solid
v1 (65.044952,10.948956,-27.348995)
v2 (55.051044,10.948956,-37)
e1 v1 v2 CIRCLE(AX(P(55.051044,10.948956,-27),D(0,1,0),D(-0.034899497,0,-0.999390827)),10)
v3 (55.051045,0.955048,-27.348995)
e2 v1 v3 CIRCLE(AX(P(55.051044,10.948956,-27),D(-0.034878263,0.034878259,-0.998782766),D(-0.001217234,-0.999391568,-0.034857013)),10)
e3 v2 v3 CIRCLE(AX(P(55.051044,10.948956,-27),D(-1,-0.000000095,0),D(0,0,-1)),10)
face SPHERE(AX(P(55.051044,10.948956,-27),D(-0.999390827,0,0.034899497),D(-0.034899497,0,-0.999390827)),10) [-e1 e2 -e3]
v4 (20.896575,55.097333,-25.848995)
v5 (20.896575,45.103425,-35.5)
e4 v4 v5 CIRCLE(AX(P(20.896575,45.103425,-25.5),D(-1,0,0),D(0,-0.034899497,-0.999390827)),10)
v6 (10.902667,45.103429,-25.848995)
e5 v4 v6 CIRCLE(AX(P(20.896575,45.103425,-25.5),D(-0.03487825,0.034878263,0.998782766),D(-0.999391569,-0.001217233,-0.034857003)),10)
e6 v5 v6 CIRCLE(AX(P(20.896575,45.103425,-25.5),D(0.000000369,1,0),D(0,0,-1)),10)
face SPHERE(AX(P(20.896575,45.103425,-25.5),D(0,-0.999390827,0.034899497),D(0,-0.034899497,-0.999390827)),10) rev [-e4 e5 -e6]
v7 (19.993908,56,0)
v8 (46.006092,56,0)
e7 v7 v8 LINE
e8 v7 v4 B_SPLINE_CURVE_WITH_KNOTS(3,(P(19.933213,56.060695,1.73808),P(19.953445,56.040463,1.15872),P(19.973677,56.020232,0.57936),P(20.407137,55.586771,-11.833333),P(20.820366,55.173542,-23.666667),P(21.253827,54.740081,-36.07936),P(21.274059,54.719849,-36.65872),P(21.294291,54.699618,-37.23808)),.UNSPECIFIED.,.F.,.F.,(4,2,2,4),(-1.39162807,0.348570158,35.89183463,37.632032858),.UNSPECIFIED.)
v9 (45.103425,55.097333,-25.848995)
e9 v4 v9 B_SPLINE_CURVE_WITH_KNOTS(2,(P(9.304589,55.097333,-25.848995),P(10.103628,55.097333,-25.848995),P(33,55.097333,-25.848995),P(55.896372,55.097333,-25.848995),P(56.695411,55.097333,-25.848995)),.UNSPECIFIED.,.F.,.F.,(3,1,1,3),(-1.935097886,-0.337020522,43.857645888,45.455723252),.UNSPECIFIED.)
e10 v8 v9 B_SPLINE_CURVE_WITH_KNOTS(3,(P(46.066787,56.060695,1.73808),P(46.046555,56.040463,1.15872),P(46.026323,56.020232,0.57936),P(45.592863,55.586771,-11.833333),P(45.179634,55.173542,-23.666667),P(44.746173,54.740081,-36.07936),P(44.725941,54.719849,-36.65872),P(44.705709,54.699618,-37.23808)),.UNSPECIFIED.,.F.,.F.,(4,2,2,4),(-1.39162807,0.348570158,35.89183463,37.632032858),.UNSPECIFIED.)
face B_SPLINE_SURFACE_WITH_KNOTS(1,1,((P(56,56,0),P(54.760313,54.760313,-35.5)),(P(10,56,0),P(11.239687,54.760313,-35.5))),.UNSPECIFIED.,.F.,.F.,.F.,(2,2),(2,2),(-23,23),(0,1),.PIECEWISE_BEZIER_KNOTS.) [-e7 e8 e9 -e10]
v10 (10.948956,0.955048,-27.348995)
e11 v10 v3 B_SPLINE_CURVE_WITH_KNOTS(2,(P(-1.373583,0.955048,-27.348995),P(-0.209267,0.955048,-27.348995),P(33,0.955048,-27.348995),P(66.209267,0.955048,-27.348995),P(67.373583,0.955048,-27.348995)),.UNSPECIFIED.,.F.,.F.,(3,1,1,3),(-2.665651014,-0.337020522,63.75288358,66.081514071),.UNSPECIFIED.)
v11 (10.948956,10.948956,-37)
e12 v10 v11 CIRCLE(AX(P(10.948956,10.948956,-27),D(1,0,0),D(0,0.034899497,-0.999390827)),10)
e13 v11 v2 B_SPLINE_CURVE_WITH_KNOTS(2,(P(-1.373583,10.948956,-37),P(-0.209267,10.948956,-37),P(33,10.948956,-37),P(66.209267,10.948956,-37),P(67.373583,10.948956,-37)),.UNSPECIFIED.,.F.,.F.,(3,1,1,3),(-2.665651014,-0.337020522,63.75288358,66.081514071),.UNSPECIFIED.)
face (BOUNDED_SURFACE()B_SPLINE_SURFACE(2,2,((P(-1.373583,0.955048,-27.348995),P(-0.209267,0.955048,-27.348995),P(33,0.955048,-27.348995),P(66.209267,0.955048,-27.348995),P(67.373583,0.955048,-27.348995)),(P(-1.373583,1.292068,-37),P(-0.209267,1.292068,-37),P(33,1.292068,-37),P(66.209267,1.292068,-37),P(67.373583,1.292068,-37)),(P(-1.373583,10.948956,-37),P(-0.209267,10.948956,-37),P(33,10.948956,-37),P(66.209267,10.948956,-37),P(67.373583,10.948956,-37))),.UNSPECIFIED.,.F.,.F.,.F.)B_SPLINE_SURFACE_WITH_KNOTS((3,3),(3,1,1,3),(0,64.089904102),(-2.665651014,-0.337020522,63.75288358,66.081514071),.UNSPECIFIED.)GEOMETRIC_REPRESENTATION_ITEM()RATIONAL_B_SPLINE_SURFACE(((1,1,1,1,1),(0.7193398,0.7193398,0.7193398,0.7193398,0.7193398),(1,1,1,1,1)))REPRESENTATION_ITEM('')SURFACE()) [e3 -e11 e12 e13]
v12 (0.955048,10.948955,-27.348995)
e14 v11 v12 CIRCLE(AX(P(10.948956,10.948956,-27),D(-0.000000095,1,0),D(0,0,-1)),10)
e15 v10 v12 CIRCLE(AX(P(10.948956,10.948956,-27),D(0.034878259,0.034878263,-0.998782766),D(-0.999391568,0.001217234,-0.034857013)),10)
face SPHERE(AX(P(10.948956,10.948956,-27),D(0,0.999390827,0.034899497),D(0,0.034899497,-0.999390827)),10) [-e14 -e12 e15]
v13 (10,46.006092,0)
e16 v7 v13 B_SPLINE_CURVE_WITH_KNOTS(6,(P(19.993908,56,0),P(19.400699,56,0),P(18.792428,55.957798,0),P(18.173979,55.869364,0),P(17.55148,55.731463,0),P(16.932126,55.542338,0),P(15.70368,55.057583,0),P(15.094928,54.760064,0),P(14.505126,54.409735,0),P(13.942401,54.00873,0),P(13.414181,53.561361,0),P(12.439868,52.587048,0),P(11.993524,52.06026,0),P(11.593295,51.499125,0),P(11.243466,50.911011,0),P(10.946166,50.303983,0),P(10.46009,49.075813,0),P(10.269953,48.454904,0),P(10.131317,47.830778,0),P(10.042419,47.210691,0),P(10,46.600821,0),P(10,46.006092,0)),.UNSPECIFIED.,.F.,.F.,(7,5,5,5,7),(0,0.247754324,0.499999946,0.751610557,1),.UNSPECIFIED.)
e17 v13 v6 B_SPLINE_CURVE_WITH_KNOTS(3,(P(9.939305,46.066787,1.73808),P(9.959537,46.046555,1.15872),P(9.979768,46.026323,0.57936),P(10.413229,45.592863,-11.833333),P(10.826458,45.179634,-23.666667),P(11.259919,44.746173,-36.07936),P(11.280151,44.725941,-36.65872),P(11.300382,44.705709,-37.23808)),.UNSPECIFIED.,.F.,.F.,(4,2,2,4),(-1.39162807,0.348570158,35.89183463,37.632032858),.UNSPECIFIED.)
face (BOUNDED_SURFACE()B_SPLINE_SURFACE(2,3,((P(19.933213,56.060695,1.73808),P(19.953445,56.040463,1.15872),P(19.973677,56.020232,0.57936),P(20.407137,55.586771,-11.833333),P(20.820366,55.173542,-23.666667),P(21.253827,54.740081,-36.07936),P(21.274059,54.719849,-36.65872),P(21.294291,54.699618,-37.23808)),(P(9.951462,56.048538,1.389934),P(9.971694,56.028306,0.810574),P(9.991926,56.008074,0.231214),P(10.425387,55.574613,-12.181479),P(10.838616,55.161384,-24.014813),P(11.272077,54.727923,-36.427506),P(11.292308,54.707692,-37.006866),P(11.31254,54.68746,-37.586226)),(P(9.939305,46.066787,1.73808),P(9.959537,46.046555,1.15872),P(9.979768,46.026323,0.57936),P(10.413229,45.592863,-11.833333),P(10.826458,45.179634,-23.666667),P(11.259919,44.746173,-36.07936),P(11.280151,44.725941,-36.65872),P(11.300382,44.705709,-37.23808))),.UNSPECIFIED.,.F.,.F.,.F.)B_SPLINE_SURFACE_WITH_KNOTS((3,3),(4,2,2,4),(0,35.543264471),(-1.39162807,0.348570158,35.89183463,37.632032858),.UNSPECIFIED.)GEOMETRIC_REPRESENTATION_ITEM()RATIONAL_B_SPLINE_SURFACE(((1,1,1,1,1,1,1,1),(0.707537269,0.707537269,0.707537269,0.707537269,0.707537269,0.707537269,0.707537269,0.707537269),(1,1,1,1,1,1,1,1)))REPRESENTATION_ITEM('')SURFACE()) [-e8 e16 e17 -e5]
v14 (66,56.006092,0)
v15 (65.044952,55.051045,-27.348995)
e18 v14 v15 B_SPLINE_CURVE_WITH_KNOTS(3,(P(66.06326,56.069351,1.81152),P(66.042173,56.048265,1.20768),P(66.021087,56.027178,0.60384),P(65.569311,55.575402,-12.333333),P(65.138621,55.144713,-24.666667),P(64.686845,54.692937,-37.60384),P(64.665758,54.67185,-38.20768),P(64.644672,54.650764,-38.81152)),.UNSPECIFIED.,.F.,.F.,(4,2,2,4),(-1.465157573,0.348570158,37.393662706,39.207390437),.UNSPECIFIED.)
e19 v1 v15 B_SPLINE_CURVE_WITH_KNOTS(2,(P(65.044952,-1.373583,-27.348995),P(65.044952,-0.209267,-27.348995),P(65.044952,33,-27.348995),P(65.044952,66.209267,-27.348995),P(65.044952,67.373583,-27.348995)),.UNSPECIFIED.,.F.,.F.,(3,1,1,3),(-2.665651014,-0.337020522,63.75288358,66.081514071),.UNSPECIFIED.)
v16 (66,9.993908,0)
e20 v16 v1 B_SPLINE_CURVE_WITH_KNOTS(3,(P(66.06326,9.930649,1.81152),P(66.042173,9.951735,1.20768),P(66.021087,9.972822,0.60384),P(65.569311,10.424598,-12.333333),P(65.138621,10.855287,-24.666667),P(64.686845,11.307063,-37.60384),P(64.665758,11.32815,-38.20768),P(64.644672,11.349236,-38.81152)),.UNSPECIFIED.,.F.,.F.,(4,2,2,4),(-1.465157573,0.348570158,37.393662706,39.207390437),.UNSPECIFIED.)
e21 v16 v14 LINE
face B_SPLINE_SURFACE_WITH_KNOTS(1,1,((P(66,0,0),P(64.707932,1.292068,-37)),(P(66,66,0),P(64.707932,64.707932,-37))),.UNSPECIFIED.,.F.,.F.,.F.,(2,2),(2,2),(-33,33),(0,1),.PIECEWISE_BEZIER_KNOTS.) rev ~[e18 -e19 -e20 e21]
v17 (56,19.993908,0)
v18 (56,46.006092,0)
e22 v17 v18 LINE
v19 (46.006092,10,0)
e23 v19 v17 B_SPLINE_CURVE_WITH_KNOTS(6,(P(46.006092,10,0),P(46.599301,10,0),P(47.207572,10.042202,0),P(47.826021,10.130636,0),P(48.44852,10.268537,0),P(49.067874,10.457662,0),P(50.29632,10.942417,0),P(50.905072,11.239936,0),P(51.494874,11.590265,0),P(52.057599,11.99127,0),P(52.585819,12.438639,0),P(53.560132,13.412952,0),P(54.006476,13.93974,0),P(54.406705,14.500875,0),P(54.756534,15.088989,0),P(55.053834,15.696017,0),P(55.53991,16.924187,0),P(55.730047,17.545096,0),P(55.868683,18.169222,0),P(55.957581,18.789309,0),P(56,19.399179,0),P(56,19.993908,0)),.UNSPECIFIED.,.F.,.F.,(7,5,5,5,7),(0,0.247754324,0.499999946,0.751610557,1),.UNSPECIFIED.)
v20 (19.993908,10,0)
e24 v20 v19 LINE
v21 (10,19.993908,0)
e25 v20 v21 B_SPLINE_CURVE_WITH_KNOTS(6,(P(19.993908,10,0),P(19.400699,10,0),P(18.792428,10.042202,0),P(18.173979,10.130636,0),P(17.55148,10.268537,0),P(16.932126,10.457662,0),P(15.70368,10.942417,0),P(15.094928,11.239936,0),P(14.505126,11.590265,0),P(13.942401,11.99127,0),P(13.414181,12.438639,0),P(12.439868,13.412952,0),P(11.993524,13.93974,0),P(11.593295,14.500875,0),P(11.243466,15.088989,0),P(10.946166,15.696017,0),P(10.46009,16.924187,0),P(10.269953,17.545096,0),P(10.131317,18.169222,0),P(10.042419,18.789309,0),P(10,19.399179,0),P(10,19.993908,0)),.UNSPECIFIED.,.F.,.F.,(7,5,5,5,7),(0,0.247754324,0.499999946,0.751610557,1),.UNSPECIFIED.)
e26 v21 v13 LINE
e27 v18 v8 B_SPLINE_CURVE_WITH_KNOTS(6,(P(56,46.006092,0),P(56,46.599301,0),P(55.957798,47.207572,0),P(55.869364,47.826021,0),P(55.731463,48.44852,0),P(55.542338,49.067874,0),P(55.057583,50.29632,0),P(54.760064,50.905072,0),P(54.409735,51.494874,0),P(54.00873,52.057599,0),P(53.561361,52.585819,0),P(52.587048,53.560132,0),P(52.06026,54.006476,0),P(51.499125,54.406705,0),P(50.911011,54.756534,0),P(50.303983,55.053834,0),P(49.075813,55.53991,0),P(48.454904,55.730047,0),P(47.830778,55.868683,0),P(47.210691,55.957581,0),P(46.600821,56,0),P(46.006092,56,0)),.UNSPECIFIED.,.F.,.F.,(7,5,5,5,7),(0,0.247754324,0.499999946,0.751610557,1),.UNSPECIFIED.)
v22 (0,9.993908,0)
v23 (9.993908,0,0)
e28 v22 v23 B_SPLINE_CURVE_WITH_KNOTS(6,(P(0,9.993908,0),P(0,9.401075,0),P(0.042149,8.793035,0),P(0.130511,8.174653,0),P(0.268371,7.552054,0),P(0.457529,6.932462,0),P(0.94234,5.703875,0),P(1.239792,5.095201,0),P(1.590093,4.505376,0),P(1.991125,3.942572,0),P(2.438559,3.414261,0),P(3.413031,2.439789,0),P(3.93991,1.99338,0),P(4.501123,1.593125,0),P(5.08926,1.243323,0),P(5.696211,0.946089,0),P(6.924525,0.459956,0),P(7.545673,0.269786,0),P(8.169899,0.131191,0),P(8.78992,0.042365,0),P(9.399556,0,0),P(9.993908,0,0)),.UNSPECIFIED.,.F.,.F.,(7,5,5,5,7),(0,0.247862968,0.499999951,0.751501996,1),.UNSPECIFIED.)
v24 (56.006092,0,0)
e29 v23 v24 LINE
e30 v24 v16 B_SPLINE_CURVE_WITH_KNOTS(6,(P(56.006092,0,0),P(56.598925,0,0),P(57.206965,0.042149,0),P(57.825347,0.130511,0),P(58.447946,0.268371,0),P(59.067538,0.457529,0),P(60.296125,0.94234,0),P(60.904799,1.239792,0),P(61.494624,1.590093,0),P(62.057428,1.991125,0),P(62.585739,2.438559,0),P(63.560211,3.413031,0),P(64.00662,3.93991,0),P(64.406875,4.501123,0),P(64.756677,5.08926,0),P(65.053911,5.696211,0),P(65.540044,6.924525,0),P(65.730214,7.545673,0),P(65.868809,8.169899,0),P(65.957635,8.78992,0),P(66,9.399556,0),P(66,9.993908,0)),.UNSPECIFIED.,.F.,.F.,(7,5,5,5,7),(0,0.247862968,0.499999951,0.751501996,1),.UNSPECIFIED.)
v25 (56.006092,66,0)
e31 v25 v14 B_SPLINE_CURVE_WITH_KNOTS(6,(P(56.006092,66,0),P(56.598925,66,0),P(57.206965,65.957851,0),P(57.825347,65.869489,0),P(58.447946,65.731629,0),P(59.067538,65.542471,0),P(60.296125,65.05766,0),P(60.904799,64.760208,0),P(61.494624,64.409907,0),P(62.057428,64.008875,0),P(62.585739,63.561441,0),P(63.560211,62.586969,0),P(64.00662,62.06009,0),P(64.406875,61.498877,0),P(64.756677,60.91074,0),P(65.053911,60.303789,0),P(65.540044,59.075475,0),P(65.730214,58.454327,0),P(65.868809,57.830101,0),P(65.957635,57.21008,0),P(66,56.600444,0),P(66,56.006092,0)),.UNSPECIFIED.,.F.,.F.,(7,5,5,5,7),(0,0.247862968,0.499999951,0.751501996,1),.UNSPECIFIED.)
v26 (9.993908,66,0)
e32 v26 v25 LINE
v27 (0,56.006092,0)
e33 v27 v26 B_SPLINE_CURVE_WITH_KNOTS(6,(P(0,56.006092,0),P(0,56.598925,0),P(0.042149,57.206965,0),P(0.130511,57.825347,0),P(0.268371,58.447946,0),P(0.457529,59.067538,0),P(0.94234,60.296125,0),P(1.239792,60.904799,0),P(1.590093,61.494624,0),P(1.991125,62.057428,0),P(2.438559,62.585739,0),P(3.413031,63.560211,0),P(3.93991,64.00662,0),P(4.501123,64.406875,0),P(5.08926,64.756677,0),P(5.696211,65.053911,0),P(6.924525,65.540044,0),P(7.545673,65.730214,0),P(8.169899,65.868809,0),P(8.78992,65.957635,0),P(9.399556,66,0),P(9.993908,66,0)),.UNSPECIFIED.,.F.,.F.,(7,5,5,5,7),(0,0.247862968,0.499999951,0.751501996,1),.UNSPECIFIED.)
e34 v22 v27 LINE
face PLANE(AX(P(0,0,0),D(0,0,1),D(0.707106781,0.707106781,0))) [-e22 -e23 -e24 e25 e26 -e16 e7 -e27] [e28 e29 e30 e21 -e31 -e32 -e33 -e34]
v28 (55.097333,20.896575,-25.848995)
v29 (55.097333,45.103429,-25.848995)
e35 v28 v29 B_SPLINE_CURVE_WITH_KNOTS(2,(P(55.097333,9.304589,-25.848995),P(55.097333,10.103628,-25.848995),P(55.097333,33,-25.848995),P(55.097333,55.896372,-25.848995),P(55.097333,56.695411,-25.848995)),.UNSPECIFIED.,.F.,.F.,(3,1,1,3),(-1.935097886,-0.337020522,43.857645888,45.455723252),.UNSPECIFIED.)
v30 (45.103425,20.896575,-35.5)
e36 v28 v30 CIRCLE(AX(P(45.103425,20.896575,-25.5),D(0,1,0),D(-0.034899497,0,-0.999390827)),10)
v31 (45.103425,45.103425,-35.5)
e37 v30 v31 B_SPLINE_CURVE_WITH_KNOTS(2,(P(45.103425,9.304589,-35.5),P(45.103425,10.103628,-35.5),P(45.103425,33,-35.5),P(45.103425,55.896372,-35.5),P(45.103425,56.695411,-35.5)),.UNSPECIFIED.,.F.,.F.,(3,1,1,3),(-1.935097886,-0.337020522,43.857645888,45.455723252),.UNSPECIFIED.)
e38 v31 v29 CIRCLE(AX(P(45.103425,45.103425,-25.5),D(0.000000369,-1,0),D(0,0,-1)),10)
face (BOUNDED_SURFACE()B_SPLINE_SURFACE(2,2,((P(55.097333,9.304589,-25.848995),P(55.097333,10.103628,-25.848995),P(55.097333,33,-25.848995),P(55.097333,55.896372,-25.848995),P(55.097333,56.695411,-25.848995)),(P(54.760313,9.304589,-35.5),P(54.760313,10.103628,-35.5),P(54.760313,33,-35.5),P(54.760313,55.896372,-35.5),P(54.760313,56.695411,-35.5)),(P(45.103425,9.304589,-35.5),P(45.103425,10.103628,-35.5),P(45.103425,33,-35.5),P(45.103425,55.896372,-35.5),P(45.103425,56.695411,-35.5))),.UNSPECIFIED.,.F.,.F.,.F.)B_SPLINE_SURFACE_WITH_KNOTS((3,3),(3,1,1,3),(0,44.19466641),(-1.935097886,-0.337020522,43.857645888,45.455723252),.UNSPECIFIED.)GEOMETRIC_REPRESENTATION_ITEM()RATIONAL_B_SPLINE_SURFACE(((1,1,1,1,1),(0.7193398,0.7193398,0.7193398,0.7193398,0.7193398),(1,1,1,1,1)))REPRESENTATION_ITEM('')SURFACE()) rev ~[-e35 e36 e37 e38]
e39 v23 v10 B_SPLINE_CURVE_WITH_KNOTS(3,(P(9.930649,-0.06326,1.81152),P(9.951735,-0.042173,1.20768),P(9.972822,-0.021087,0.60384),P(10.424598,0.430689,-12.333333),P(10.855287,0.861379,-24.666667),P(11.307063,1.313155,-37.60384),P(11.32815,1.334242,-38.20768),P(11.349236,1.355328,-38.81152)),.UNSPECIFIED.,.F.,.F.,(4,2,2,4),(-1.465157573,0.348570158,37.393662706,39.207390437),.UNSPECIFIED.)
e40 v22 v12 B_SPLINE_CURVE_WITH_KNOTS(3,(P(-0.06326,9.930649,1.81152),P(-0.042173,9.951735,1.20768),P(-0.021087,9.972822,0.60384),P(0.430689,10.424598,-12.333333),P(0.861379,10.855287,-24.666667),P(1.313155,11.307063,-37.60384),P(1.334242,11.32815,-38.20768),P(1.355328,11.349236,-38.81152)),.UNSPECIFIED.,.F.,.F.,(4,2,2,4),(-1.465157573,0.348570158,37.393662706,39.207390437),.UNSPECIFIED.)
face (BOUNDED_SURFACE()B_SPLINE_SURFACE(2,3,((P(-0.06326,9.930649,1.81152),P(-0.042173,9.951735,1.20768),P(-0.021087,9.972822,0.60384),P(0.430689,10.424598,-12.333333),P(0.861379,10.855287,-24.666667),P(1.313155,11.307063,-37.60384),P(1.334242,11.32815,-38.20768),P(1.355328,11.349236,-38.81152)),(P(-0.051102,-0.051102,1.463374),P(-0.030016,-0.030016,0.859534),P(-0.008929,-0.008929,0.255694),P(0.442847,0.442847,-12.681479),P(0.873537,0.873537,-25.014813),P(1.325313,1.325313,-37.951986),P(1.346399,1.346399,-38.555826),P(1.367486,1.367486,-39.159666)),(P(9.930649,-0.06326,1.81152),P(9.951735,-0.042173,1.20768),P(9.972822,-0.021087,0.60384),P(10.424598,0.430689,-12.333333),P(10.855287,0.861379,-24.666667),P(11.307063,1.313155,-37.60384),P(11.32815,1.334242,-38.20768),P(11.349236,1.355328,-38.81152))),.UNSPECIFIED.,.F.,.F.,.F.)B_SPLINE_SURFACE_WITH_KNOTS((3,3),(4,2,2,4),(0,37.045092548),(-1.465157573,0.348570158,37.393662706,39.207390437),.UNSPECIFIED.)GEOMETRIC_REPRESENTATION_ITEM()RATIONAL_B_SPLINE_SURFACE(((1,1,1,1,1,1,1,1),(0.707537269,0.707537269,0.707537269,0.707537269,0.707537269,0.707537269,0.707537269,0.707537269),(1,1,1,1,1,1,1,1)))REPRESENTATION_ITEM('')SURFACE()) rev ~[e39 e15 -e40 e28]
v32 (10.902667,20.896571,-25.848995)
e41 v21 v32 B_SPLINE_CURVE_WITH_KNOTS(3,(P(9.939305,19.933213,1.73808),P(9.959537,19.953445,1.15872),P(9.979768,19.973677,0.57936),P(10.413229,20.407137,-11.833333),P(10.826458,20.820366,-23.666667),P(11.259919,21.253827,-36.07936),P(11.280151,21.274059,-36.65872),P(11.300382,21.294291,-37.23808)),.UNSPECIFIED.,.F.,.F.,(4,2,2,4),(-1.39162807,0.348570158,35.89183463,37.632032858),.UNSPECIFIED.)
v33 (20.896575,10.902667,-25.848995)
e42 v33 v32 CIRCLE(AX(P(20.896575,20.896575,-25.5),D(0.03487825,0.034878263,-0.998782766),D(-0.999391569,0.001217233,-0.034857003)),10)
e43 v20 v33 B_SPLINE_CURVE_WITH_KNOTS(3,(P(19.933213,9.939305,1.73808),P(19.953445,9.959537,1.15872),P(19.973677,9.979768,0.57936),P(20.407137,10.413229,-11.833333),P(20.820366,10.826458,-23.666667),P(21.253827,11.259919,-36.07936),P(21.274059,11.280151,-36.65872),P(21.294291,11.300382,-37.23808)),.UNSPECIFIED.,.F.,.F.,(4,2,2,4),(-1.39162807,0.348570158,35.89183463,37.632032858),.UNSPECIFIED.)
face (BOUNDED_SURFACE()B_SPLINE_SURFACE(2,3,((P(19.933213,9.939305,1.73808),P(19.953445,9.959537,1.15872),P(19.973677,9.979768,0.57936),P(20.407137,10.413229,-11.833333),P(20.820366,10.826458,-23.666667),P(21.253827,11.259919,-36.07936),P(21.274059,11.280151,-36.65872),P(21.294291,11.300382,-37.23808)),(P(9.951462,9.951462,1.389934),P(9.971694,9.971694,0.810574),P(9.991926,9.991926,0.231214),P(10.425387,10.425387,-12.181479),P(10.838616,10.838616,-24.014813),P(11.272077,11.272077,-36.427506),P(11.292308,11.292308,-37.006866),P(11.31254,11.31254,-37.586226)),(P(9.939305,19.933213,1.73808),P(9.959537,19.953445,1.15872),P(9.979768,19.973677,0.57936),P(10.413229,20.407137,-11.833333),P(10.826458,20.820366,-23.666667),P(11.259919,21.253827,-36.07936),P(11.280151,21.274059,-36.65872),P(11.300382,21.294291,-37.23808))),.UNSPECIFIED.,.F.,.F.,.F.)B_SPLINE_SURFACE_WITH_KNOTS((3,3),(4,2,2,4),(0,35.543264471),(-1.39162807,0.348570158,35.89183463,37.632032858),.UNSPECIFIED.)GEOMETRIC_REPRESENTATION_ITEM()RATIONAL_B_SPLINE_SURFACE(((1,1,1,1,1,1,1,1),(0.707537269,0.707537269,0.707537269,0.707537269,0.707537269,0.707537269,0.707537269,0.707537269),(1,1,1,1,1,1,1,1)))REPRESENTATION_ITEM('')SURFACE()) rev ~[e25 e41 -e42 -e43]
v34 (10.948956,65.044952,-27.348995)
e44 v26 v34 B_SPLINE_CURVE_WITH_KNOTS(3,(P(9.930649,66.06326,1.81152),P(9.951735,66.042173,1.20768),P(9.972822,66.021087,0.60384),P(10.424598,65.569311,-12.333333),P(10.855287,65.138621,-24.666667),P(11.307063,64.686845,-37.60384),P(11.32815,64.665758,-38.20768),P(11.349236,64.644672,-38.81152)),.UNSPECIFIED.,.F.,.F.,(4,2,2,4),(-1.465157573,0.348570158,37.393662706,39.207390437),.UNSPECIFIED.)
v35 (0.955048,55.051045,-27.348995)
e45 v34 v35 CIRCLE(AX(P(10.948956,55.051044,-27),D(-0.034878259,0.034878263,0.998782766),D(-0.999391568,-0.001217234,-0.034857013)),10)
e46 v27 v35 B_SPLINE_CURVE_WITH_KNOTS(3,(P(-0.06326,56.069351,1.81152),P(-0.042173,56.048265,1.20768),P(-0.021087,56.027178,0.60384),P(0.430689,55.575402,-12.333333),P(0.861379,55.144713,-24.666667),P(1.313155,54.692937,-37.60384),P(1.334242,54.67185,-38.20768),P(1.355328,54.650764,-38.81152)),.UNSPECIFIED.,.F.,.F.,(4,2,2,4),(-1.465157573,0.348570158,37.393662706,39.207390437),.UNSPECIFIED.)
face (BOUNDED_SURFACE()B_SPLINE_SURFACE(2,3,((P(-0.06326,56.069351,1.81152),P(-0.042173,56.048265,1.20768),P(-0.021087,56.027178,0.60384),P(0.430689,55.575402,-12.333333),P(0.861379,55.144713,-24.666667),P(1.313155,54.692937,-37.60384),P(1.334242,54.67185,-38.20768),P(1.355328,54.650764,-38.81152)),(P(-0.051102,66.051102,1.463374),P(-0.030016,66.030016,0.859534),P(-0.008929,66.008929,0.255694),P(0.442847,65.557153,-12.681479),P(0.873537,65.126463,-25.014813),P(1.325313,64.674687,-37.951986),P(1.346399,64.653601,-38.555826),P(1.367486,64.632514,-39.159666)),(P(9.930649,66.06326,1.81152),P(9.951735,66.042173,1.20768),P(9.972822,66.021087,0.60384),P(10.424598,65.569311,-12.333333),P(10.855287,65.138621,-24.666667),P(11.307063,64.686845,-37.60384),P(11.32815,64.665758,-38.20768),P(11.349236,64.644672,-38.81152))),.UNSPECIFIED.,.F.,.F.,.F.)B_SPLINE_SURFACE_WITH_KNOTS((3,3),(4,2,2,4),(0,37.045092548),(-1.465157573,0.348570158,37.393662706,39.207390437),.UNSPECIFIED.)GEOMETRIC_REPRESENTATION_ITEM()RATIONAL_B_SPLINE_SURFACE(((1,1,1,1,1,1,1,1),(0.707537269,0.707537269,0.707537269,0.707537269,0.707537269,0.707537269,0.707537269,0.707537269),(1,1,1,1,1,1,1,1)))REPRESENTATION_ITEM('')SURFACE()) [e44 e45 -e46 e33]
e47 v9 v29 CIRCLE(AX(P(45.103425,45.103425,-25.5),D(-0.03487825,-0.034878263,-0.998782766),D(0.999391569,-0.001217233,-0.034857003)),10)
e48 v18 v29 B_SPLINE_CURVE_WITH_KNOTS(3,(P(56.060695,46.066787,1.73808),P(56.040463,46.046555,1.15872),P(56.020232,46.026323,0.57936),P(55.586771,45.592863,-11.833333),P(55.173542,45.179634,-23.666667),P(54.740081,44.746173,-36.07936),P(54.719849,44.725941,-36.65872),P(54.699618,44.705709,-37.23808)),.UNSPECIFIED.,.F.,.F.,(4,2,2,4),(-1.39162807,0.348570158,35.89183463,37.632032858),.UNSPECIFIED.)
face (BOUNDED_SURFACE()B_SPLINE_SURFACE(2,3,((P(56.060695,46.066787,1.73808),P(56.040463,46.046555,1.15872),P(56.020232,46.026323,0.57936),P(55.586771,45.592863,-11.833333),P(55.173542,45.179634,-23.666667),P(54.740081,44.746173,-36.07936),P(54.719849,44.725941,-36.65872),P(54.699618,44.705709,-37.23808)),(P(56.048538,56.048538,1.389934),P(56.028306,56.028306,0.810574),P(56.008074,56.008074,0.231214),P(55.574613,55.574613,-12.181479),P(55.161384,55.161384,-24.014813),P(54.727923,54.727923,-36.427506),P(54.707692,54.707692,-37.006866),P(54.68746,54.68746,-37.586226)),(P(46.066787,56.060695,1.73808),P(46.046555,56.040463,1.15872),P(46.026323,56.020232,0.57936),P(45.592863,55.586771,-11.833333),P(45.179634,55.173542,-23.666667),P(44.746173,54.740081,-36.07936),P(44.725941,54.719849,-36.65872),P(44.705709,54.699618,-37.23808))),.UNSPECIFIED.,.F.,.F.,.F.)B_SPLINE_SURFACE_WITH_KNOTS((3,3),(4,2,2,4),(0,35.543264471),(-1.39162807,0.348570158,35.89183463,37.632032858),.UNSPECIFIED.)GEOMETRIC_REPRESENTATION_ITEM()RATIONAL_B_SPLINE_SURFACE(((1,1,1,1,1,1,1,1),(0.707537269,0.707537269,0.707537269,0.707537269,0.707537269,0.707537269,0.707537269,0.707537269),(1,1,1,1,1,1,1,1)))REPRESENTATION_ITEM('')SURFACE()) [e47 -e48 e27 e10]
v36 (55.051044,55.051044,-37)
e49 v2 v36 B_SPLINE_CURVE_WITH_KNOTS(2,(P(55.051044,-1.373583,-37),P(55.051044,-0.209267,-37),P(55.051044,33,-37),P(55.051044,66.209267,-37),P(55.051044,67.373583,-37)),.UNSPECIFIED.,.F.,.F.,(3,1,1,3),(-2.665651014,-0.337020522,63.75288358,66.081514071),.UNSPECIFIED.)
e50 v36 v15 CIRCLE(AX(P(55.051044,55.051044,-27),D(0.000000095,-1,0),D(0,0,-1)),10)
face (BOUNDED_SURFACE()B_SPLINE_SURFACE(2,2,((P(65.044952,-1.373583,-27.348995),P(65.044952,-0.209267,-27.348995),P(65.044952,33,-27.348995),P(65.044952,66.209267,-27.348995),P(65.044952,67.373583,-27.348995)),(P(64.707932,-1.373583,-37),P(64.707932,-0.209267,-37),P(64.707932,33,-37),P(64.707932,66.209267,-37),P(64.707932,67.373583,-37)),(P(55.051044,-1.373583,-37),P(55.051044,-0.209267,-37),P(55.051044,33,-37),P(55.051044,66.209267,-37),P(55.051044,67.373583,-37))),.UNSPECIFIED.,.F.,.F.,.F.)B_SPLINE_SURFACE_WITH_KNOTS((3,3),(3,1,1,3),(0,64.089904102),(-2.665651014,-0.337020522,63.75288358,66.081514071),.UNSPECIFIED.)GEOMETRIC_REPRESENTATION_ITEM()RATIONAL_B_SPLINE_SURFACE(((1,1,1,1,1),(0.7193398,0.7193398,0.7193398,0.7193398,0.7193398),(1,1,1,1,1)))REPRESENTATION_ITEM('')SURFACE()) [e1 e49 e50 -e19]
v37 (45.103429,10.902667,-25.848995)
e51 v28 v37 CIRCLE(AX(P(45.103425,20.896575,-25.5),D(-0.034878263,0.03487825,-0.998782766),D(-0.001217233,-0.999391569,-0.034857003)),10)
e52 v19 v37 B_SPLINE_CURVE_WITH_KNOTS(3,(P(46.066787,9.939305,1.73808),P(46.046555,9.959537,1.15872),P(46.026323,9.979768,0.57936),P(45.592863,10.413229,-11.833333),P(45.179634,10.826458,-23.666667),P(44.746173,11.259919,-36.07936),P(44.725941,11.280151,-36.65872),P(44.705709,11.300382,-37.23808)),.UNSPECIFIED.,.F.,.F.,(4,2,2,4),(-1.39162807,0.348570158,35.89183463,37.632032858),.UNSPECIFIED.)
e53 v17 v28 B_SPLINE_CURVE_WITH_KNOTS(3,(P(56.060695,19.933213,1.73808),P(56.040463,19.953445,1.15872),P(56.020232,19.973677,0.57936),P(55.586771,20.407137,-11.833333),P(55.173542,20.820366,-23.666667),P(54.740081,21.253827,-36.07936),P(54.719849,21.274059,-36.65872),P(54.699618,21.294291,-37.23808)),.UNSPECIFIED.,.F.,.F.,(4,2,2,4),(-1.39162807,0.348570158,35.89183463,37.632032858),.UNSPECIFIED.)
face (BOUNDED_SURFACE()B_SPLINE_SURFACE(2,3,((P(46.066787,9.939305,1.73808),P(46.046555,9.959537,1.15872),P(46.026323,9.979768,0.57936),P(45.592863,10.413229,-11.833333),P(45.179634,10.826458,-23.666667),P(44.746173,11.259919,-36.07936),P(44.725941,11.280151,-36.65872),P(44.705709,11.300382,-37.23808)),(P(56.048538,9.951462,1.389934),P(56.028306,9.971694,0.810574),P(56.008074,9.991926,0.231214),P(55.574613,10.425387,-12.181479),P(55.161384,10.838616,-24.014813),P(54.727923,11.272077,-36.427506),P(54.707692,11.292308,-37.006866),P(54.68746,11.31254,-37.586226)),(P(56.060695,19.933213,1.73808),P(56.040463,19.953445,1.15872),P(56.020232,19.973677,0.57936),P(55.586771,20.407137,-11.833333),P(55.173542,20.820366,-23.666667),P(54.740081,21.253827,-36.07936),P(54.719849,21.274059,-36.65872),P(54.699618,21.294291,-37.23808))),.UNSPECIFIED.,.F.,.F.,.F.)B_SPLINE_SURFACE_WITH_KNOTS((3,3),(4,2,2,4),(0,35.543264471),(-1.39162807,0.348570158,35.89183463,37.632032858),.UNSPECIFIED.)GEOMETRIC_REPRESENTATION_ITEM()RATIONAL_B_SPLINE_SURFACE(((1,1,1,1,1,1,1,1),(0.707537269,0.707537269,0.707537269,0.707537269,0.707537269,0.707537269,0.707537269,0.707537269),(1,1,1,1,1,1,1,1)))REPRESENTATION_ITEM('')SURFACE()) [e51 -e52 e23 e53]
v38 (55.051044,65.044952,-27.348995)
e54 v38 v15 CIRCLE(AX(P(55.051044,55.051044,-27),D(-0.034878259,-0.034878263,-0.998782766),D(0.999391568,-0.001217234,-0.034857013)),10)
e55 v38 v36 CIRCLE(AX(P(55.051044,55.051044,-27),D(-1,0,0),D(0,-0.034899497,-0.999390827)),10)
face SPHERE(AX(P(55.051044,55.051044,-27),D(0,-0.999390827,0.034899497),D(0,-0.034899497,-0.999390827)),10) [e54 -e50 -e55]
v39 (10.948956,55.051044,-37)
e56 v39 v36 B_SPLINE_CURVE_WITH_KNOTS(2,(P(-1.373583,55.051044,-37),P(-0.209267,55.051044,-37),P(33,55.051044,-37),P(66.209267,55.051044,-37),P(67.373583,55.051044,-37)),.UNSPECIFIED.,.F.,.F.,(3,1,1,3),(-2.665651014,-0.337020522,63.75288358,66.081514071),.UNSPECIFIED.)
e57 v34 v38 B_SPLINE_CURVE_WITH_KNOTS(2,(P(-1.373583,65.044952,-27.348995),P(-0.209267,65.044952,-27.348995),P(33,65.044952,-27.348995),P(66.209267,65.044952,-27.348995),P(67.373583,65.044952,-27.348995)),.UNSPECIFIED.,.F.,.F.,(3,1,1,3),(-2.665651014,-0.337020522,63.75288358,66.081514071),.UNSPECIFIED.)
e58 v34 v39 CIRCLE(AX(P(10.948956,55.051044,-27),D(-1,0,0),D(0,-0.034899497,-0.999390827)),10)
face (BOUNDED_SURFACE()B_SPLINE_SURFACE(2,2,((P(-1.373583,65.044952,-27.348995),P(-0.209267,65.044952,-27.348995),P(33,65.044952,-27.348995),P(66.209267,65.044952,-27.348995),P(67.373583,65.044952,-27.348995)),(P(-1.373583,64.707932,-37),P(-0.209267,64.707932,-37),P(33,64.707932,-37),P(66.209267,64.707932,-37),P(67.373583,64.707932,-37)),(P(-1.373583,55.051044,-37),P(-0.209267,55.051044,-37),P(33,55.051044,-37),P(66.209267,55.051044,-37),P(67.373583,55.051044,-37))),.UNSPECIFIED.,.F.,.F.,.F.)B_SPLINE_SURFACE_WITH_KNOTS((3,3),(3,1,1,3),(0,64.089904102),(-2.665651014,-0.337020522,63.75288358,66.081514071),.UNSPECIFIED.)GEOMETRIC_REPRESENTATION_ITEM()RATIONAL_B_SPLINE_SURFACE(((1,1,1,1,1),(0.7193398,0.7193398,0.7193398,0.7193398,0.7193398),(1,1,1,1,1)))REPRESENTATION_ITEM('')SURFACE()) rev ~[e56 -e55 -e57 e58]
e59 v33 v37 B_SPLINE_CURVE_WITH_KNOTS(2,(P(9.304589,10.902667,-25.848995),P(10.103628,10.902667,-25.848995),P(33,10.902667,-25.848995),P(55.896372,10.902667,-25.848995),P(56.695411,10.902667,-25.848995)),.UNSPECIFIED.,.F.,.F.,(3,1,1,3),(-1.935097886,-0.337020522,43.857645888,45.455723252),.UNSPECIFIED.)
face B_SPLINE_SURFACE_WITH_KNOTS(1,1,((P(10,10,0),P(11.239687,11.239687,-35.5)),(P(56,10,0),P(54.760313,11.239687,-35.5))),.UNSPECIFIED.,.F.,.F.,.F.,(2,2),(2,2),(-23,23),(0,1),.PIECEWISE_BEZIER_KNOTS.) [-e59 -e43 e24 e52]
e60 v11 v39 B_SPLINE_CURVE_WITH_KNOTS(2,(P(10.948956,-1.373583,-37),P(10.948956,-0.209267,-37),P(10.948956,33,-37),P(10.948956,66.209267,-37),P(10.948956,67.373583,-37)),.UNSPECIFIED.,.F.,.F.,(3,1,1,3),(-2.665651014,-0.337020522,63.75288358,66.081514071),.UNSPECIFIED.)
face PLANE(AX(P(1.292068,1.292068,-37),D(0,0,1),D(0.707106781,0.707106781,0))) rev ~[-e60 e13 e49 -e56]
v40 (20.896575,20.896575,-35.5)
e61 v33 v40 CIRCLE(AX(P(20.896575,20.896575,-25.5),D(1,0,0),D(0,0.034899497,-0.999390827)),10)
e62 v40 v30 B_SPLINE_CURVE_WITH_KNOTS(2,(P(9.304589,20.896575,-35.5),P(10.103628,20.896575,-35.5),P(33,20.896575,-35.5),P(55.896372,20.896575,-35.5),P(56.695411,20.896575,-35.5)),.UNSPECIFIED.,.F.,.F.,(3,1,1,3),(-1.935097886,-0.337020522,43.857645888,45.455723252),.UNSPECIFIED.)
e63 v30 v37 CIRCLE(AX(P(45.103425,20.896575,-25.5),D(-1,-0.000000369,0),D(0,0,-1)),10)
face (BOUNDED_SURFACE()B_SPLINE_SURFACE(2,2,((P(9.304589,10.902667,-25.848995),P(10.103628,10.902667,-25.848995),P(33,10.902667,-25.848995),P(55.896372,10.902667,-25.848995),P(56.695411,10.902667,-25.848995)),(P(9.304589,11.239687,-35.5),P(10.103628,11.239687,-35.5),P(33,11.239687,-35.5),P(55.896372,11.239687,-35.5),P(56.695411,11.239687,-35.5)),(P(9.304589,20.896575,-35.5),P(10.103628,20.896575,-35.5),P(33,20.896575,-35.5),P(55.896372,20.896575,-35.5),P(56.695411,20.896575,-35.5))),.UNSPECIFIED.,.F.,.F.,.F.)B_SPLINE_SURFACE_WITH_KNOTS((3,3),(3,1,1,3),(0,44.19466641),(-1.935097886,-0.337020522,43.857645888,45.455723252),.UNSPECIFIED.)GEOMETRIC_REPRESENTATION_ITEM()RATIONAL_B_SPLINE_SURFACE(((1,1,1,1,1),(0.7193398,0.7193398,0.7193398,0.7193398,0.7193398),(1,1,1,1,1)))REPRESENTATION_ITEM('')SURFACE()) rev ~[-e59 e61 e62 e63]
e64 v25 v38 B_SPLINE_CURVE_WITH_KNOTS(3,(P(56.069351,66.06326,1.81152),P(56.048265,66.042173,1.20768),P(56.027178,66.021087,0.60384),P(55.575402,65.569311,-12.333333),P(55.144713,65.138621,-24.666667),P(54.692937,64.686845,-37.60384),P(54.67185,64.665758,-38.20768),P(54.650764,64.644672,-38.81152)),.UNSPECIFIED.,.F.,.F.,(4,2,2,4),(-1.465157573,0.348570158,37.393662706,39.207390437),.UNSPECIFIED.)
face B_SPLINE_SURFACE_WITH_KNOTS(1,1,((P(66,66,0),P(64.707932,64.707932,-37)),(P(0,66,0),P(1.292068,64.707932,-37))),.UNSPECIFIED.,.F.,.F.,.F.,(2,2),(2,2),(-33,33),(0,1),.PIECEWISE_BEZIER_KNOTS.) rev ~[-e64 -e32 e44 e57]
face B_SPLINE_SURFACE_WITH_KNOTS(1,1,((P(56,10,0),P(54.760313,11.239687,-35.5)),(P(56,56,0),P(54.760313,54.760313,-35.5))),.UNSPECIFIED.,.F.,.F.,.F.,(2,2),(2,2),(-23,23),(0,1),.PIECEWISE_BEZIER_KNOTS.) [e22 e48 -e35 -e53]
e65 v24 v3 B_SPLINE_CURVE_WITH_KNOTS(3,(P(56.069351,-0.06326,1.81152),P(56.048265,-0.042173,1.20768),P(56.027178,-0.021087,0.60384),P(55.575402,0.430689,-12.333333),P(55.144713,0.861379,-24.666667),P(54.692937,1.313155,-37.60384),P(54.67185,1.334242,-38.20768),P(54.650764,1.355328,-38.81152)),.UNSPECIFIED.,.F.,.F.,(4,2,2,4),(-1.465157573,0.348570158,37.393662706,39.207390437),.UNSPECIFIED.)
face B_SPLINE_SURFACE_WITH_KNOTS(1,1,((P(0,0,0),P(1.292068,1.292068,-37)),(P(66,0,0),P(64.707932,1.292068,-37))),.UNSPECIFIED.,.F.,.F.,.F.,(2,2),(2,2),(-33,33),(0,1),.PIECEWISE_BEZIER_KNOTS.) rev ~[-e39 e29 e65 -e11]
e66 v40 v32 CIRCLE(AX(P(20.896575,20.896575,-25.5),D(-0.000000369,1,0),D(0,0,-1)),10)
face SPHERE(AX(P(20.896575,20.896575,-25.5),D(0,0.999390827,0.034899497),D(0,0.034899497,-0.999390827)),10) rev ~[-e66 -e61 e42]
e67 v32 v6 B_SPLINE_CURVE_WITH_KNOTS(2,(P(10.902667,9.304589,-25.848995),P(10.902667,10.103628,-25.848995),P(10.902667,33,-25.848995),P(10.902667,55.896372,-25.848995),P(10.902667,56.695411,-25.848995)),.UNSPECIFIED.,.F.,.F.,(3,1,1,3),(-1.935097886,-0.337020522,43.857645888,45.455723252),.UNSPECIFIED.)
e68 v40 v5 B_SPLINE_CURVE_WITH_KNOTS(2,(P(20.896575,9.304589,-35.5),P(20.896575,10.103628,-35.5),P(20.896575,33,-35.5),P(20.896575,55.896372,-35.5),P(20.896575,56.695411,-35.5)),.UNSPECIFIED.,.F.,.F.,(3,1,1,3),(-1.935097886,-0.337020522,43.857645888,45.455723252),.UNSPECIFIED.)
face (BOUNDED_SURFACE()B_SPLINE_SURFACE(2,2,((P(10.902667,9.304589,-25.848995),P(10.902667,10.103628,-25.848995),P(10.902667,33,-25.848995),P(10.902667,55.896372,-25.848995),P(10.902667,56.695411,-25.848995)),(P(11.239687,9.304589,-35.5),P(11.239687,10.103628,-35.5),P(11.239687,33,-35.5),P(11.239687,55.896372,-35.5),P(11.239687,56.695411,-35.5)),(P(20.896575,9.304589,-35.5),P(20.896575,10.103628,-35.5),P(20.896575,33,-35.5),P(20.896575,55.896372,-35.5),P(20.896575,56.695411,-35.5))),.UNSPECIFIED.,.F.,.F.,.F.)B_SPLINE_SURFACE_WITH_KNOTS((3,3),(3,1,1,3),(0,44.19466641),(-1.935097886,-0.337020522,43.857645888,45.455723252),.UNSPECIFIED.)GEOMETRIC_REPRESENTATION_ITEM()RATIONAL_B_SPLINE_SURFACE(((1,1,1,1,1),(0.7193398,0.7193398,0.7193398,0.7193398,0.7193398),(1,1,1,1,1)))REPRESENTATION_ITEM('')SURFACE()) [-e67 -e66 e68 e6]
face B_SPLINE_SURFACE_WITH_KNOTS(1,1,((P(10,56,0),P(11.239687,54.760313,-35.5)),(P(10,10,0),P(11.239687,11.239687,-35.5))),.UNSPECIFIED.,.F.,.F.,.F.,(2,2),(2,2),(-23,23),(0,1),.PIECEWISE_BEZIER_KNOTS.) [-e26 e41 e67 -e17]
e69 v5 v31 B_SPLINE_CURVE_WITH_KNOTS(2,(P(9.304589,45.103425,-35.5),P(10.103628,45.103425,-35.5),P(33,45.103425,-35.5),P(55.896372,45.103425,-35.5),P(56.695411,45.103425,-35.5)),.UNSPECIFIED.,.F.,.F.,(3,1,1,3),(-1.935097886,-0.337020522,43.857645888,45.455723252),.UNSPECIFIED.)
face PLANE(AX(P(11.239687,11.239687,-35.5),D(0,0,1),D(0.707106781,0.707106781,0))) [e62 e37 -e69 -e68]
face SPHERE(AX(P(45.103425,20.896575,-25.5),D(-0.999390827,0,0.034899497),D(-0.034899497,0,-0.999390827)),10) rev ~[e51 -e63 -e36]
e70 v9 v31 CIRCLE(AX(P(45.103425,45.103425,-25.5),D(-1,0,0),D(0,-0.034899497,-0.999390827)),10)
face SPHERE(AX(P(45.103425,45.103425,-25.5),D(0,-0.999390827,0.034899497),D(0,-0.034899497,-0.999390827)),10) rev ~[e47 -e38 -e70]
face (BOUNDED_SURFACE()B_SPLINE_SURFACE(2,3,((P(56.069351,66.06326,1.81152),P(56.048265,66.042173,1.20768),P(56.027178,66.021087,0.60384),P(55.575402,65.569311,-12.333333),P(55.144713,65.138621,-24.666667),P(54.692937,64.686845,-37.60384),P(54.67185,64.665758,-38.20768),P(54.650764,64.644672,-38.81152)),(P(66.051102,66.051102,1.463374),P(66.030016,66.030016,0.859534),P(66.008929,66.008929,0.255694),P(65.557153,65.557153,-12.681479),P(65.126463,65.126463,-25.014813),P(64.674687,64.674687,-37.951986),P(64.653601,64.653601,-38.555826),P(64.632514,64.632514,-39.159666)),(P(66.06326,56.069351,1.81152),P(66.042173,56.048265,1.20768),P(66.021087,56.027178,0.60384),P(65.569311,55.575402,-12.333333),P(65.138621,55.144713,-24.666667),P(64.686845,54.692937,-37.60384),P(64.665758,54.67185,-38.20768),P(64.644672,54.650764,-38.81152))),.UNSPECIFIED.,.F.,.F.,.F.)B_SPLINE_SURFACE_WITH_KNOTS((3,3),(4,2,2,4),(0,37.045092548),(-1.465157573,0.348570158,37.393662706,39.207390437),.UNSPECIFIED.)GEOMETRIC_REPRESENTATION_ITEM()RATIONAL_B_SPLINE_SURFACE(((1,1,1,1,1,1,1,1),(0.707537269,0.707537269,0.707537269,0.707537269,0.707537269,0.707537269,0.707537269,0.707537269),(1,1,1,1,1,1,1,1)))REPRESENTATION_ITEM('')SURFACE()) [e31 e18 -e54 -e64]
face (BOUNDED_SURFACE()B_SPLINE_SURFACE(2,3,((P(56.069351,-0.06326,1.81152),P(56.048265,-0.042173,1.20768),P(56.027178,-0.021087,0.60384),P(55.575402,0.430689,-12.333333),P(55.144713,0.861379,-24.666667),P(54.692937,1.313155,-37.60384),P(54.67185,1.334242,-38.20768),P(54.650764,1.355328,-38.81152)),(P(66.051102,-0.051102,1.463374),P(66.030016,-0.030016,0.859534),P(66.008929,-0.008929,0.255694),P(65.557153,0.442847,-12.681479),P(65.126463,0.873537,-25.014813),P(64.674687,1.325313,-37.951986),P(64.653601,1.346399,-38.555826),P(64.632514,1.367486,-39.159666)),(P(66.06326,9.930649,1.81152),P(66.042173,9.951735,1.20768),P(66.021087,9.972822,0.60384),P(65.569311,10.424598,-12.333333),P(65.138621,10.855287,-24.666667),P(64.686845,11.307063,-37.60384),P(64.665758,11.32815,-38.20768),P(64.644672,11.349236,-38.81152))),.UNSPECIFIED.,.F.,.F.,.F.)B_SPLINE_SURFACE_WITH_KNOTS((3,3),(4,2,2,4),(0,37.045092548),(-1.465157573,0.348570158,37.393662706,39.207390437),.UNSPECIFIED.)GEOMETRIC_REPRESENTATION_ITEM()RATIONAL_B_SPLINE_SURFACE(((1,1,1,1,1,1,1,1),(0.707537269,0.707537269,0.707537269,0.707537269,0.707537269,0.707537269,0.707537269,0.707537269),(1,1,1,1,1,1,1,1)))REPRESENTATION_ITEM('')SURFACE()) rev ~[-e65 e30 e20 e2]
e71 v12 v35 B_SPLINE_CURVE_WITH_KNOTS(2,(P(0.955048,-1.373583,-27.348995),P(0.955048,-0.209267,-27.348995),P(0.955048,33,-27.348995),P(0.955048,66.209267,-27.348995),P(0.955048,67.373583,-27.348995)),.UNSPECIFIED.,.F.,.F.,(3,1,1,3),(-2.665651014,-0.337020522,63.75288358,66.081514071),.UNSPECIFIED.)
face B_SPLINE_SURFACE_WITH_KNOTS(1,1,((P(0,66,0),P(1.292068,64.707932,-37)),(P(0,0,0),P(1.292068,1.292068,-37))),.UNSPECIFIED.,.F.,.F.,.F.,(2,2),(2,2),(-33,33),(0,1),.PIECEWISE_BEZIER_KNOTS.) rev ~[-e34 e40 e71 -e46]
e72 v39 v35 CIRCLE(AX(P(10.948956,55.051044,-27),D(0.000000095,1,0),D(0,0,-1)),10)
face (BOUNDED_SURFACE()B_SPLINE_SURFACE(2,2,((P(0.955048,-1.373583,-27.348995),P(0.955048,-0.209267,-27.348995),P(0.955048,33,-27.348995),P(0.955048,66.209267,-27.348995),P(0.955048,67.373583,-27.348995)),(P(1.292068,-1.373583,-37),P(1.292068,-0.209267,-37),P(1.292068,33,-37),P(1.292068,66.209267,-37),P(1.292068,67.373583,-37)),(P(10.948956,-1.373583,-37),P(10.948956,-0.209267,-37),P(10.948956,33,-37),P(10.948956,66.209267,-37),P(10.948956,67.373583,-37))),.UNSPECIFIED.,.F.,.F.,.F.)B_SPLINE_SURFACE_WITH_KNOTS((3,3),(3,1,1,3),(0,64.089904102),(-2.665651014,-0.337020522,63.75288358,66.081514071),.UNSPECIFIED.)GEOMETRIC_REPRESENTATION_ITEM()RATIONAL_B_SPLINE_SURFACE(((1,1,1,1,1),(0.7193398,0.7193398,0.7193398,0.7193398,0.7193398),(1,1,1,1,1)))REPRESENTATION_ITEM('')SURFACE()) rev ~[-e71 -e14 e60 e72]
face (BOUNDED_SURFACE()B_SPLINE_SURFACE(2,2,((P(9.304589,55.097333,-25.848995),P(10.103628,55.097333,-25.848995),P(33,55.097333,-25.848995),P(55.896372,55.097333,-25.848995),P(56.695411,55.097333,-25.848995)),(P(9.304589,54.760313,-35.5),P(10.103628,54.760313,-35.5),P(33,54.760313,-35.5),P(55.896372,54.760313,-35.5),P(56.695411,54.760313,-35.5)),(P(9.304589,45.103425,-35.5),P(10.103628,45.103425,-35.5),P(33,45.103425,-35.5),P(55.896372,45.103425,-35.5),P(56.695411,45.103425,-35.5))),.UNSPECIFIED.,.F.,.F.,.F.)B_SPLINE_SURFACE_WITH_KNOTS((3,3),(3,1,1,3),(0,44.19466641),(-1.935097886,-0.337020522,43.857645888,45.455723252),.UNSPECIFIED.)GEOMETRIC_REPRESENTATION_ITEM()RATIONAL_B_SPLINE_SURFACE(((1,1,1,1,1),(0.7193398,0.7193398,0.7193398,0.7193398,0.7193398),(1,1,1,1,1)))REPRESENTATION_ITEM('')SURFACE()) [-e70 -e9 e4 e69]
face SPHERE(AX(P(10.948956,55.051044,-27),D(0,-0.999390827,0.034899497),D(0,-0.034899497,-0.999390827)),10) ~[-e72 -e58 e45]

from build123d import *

# Parameters (mm, degrees)
F0_W     = 66
F0_H     = 66
F0_W_2   = 46
F0_H_2   = 46
F1_DEPTH = 37
F1_TAPER = 2
F2_DEPTH = 35.5
F2_TAPER = 2
F3_R     = 10
F4_R     = 10


with BuildPart() as f1:
    # F0 (on Top) → F1 (new body)
    with BuildSketch(Plane.XY):
        with Locations((33, 33)):
            Rectangle(F0_W, F0_H)
        with Locations((33, 33)):
            Rectangle(F0_W_2, F0_H_2, mode=Mode.SUBTRACT)
        with Locations((33, 33)):
            Rectangle(F0_W_2, F0_H_2)
    extrude(amount=-F1_DEPTH, taper=F1_TAPER)

    # F0 (on Top) → F2 (cut)
    with BuildSketch(Plane.XY):
        with Locations((33, 33)):
            Rectangle(F0_W_2, F0_H_2)
    extrude(amount=-F2_DEPTH, taper=F2_TAPER, mode=Mode.SUBTRACT)

    # F3
    f3_edges = [f1.edges().sort_by_distance(p)[0] for p in [
        (11.239687, 33, -35.5),
        (33, 11.239687, -35.5),
        (54.760313, 33, -35.5),
        (33, 54.760313, -35.5),
        (55.380156, 10.619844, -17.75),
        (10.619844, 55.380156, -17.75),
        (10.619844, 10.619844, -17.75),
        (55.380156, 55.380156, -17.75),
    ]]
    fillet(f3_edges, radius=F3_R)

    # F4
    f4_edges = [f1.edges().sort_by_distance(p)[0] for p in [
        (1.292068, 33, -37),
        (33, 1.292068, -37),
        (64.707932, 33, -37),
        (33, 64.707932, -37),
        (65.353966, 65.353966, -18.5),
        (0.646034, 65.353966, -18.5),
        (0.646034, 0.646034, -18.5),
        (65.353966, 0.646034, -18.5),
    ]]
    fillet(f4_edges, radius=F4_R)


solid = f1.part
